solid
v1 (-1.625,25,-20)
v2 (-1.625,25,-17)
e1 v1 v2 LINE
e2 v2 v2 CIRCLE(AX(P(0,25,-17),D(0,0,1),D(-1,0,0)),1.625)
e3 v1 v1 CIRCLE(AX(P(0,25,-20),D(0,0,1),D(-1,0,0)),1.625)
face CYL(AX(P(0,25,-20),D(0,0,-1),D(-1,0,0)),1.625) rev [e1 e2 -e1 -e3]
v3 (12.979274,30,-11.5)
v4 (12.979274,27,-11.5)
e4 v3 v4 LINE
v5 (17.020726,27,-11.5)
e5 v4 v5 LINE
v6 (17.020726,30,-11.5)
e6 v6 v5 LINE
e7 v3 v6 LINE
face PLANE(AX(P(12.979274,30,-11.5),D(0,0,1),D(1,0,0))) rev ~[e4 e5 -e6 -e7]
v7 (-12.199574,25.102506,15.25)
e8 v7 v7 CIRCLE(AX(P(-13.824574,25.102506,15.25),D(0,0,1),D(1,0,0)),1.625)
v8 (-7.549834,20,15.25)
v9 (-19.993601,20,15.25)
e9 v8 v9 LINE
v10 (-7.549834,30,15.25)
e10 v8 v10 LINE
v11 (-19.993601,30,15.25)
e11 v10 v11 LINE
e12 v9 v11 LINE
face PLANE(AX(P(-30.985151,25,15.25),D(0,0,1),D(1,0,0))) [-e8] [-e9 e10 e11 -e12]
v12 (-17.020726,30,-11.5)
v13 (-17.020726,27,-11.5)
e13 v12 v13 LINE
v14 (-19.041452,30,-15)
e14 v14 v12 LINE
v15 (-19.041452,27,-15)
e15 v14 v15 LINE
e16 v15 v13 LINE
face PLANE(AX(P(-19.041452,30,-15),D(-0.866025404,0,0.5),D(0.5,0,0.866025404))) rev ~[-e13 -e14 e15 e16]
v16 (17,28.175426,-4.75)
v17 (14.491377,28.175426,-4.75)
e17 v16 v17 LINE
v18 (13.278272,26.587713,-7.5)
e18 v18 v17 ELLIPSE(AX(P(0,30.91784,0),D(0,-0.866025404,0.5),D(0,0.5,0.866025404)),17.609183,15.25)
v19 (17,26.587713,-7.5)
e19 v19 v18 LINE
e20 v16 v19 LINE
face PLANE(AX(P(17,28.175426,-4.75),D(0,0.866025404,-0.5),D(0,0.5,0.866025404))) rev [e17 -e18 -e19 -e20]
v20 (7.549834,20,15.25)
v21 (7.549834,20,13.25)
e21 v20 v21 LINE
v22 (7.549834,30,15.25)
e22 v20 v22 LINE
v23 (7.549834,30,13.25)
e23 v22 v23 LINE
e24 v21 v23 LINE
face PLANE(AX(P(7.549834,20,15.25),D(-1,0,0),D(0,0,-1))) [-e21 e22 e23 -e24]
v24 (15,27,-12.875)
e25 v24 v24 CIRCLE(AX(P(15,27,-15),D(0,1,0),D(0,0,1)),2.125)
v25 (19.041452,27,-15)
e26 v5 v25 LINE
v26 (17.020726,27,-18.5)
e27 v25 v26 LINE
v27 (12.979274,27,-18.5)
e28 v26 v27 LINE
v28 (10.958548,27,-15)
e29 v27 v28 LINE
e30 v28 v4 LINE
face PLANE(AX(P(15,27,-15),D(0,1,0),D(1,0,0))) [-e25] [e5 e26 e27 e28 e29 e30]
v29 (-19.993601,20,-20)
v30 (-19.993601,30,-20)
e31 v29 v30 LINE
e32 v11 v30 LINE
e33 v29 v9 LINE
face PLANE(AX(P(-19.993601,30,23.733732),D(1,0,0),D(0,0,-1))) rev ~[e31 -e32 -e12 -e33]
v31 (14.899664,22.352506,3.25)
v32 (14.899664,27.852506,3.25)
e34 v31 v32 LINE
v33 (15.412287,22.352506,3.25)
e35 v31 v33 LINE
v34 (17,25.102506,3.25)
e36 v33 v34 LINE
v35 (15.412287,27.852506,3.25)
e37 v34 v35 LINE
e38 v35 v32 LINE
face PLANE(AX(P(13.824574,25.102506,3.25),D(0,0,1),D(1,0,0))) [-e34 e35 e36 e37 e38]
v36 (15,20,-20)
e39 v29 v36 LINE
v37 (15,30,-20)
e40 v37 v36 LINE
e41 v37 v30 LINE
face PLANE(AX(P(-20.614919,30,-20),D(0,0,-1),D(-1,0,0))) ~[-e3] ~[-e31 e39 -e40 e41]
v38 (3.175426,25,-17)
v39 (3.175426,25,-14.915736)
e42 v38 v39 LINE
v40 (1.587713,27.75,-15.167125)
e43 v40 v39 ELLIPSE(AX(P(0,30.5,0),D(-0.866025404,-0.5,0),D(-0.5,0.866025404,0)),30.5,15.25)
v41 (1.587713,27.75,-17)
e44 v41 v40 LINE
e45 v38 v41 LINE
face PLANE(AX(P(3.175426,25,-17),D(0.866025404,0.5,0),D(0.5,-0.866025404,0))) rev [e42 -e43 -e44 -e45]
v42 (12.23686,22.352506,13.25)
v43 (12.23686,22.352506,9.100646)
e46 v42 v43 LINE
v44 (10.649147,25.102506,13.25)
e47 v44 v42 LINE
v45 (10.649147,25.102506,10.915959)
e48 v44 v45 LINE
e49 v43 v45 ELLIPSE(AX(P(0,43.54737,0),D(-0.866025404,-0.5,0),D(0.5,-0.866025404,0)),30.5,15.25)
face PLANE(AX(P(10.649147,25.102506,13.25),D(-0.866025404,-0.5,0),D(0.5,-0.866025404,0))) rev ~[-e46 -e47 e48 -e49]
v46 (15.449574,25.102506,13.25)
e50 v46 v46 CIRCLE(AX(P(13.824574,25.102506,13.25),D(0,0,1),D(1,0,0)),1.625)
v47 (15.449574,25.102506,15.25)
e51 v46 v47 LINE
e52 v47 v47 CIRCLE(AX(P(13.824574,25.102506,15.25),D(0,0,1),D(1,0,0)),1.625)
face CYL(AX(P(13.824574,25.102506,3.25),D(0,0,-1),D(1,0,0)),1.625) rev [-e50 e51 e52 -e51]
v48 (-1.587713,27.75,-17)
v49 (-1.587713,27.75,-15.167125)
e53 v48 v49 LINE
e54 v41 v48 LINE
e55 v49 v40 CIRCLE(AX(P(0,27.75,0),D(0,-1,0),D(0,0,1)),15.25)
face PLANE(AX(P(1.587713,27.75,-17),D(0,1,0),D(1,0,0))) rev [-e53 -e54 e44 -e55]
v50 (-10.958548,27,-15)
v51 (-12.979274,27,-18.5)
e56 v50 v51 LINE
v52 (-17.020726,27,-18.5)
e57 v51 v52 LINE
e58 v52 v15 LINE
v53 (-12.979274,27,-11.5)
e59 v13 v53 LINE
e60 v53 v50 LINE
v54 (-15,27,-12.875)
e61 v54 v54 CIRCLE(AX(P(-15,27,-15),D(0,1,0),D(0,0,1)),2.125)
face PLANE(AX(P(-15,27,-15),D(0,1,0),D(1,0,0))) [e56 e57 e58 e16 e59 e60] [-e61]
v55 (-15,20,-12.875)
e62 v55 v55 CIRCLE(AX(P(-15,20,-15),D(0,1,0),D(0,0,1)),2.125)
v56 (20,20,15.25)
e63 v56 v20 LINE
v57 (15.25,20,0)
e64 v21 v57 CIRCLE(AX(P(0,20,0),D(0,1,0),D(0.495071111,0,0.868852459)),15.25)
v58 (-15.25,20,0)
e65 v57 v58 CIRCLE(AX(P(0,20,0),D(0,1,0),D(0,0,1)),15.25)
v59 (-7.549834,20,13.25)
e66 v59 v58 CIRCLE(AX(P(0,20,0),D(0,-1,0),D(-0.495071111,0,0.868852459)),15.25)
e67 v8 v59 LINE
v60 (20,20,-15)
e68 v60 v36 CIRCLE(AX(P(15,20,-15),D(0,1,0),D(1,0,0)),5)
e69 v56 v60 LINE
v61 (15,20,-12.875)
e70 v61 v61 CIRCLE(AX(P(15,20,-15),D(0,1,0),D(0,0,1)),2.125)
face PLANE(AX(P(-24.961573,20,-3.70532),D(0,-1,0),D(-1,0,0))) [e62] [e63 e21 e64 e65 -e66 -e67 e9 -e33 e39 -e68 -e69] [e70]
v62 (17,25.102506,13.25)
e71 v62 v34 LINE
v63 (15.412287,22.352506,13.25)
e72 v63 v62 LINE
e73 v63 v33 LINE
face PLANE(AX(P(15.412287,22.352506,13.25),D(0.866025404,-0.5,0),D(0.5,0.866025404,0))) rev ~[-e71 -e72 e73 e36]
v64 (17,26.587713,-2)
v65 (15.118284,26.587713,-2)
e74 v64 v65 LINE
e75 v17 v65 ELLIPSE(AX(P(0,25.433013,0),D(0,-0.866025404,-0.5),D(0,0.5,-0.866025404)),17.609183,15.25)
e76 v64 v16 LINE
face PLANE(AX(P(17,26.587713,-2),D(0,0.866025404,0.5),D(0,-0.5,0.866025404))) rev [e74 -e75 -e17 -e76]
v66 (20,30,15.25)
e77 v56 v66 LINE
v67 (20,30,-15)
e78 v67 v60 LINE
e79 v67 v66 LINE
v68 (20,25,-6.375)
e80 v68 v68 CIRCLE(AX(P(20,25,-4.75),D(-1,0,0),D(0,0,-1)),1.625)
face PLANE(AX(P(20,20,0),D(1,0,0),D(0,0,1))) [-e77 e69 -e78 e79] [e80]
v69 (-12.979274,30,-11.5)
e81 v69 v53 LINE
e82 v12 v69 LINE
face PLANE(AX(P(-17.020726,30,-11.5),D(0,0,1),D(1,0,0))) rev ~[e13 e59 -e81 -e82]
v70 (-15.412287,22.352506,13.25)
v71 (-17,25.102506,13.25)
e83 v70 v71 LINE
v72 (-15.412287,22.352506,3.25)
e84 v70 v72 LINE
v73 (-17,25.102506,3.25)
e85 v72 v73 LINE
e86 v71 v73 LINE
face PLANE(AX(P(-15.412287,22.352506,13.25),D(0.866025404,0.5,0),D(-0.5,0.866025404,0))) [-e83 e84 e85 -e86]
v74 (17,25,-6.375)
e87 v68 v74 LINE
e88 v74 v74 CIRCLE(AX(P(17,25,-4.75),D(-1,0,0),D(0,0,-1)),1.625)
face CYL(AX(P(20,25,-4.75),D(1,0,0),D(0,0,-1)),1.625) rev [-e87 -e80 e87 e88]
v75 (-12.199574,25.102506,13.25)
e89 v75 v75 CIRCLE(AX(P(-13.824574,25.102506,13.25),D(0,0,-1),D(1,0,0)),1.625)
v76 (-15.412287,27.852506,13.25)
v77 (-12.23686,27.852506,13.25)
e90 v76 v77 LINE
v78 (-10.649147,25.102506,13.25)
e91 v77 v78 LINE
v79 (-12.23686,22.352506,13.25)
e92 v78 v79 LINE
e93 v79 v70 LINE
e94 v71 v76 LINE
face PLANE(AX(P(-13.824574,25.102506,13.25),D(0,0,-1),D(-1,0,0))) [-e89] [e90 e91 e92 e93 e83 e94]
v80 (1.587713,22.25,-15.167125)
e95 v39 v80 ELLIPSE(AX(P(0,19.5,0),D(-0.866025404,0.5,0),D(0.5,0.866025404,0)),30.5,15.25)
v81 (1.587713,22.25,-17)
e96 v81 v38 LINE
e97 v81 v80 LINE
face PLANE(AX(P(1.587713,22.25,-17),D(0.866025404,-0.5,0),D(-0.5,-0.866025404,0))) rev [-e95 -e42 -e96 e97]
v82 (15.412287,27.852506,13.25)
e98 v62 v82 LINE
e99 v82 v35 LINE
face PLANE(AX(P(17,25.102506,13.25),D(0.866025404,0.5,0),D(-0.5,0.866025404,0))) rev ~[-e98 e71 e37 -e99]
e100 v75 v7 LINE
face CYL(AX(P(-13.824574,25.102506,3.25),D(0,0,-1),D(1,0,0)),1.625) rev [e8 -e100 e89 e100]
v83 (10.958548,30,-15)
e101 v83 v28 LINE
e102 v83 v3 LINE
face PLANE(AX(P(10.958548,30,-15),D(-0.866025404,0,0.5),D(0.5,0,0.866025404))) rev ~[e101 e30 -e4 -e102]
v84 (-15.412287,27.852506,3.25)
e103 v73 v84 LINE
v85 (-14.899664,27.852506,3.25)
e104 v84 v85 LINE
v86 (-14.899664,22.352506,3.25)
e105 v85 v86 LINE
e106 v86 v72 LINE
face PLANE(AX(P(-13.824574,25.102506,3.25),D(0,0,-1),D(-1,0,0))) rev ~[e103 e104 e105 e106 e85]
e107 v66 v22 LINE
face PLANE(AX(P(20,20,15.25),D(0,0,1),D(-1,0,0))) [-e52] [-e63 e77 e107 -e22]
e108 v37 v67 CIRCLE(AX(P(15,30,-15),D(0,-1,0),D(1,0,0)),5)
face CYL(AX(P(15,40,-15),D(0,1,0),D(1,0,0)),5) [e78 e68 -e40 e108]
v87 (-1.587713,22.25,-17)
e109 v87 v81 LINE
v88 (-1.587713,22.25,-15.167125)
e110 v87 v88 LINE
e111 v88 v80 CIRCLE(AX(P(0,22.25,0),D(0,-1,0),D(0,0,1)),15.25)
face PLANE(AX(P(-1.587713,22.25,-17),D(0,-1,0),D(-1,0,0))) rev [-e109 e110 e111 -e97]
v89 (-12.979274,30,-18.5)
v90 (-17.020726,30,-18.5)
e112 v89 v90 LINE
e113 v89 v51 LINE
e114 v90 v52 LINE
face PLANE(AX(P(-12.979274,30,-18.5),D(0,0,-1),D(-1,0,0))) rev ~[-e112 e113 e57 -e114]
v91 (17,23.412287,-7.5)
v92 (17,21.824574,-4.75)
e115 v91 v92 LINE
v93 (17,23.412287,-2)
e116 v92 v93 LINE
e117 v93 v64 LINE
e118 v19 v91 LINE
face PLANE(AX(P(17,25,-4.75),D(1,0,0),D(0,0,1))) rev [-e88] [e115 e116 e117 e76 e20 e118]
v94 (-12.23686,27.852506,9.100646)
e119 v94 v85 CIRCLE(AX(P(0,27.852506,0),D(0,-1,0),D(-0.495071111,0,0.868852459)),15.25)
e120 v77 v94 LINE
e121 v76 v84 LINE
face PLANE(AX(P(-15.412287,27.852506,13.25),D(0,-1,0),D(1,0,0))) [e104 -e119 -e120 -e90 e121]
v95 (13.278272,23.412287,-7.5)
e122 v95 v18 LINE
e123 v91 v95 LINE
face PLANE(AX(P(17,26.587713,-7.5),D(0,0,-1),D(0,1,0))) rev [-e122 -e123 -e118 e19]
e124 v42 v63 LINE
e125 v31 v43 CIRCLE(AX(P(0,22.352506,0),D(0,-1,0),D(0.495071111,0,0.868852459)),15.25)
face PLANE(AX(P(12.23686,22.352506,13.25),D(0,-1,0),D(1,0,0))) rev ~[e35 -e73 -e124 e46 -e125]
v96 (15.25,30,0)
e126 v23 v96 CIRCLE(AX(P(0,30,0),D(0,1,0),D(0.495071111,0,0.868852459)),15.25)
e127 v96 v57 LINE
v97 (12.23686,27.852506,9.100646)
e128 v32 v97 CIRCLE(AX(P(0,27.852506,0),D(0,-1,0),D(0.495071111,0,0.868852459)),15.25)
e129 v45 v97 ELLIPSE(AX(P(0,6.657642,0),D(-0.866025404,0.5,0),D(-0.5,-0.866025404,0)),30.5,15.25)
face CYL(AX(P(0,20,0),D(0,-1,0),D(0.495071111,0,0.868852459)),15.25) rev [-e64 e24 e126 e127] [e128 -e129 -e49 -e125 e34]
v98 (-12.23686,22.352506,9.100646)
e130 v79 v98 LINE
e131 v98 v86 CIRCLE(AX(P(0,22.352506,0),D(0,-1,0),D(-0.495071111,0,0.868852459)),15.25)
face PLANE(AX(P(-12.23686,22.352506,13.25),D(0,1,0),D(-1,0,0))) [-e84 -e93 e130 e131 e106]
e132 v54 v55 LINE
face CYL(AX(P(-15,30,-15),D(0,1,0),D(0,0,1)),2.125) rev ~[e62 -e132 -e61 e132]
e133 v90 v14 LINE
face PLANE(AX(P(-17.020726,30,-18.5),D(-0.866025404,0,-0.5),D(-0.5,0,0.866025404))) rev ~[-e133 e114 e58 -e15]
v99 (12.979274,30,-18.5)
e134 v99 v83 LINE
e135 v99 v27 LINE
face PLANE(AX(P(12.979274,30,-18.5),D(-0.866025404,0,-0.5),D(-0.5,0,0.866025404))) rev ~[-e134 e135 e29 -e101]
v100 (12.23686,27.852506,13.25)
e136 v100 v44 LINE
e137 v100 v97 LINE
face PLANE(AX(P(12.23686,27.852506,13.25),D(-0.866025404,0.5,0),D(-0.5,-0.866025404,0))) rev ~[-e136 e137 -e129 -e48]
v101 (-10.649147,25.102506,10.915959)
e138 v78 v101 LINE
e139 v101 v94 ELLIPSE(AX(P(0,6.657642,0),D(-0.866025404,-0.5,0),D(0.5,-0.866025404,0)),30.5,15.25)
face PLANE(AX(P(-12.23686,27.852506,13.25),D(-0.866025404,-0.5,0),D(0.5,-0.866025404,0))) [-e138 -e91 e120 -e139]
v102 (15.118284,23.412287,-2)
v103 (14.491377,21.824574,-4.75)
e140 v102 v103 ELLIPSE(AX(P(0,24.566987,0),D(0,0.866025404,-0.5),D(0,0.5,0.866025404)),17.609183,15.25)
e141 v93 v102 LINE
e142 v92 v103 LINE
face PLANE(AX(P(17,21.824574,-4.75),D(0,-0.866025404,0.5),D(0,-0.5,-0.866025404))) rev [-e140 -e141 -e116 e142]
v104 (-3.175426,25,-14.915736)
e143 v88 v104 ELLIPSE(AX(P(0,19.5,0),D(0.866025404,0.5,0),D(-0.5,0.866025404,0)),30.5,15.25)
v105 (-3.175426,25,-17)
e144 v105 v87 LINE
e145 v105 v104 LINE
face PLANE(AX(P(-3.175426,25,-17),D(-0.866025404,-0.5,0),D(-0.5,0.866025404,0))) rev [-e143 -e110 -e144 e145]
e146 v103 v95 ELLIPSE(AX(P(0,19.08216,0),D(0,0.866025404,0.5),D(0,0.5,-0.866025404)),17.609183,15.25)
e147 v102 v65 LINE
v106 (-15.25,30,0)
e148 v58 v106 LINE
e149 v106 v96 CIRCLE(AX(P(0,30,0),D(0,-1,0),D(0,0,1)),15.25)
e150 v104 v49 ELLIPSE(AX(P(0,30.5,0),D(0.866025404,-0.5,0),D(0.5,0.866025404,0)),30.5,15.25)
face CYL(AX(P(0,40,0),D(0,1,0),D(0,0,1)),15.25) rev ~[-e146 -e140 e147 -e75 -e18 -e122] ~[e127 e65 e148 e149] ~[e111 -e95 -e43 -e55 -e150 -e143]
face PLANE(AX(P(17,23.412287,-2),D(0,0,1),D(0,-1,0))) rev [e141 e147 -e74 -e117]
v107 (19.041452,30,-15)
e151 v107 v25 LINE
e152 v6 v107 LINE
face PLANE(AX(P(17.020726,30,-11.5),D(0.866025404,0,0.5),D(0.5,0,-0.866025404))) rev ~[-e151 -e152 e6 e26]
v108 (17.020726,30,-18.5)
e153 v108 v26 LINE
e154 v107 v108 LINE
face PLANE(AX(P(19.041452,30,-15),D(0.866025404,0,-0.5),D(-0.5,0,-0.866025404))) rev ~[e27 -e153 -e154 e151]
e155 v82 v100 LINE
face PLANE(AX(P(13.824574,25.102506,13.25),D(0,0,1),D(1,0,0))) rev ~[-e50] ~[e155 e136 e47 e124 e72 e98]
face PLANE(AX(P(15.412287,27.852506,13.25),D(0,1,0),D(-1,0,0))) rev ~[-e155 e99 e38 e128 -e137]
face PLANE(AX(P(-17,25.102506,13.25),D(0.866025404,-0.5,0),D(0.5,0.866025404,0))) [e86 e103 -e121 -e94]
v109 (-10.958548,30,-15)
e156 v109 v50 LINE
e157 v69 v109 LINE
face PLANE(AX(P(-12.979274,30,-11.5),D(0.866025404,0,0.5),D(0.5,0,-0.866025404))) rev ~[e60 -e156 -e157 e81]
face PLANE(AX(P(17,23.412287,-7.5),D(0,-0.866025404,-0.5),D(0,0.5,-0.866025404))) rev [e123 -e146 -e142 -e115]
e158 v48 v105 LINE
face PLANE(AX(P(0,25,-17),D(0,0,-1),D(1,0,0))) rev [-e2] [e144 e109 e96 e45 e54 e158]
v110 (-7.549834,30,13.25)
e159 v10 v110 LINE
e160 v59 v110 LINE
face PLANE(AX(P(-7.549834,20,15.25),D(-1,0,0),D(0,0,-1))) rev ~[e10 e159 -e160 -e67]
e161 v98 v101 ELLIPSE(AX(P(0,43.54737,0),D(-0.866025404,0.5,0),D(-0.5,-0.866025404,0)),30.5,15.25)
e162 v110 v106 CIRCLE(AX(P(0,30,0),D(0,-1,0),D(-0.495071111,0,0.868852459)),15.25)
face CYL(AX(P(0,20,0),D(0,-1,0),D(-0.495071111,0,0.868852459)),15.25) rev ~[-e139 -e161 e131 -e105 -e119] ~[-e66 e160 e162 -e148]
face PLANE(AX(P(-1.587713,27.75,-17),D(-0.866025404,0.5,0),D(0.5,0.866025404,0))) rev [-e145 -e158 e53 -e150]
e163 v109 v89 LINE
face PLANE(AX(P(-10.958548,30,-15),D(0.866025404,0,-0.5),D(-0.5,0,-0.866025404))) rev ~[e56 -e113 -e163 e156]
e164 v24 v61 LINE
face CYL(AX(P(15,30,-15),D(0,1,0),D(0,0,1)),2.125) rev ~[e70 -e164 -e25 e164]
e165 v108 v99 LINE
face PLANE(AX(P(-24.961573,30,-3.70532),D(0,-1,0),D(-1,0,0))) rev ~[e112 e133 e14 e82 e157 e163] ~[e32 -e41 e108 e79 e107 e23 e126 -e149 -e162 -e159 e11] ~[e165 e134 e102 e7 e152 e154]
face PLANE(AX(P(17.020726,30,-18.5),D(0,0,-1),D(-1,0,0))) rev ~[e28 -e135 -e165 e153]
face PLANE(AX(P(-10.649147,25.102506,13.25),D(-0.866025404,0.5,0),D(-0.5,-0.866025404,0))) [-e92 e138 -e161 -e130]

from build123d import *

# Parameters (mm, degrees)
CROQUIS1_R                              = 15.25
CROQUIS1_R_2                            = 2.125
SOPORTE_CAJA_REDUCTORA_DEPTH            = 20
CROQUIS3_R                              = 2.125
CORTAR_EXTRUIR1_DEPTH                   = 51.423828692
REDONDEO1_R                             = 5
BOSS_EXTRUDE1_DEPTH                     = 20
CUT_EXTRUDE1_REACH                      = 55.852
SKETCH2_R                               = 1.625
CUT_EXTRUDE2_DEPTH                      = 2
SKETCH4_R                               = 1.625
CUT_EXTRUDE3_DEPTH                      = 63.291652731
CUT_EXTRUDE4_START                      = -4.5
CUT_EXTRUDE4_DEPTH                      = 2
CROQUIS6_W                              = 4.75
CROQUIS6_H                              = 4.75
CORTAR_EXTRUIR17_DEPTH                  = 42.231056256
CROQUIS7_W                              = 60
CROQUIS7_H                              = 20
CORTAR_EXTRUIR18_DEPTH                  = 51.423828692
SALIENTE_EXTRUIR2_DEPTH                 = 49
SOPORTE_START                           = -15
SOPORTE_MOTOR_DEPTH                     = 15
CROQUIS12_R                             = 2.125
AGUJEROS_DE_SUJECION_A_BASE_DEPTH       = 84.087679592
TUERCA_START                            = -4
TUERCA_AGUJERO_DE_SUJECION_A_BASE_DEPTH = 10
SALIENTE_EXTRUIR4_DEPTH                 = 15
CORTAR_EXTRUIR19_DEPTH                  = 25
CROQUIS14_W                             = 50
CROQUIS14_H                             = 118
CORTAR_EXTRUIR22_DEPTH                  = 146.556045907
CROQUIS15_W                             = 10
CROQUIS15_H                             = 7
CORTAR_EXTRUIR23_DEPTH                  = 42.231056256
CORTAR_EXTRUIR24_DEPTH                  = 42.231056256
CROQUIS18_W                             = 40
CROQUIS18_H                             = 10
CORTAR_EXTRUIR25_DEPTH                  = 44.27311521
SALIENTE_EXTRUIR5_DEPTH                 = 10
CROQUIS20_R                             = 1
CORTAR_EXTRUIR26_DEPTH                  = 49.229270158
CORTAR_EXTRUIR27_REACH                  = 62.959
CORTAR_EXTRUIR27_END_RADIUS             = 15.25
CROQUIS21_R                             = 1.625
CROQUIS22_R                             = 2.125
CROQUIS22_R_2                           = 1
SALIENTE_EXTRUIR6_DEPTH                 = 10
CROQUIS23_R                             = 1.625
CORTAR_EXTRUIR28_DEPTH                  = 52.269508521
CORTAR_EXTRUIR29_START                  = -3
CORTAR_EXTRUIR29_DEPTH                  = 10
SALIENTE_EXTRUIR7_DEPTH                 = 10
CORTAR_EXTRUIR30_REACH                  = 72.235
CROQUIS27_R                             = 1.625
CORTAR_EXTRUIR31_REACH                  = 75.235
CORTAR_EXTRUIR31_START                  = -3
CORTAR_EXTRUIR32_REACH                  = 58.612
CROQUIS29_R                             = 1.625
CORTAR_EXTRUIR33_REACH                  = 61.112
CORTAR_EXTRUIR33_START                  = -2.5
CROQUIS35_W                             = 13.305418987
CROQUIS35_H                             = 6.826864192
CORTAR_EXTRUIR34_DEPTH                  = 63.931555098
CORTAR_EXTRUIR34_DEPTH_BACK             = 63.931555098
CORTAR_EXTRUIR35_START                  = -3
CORTAR_EXTRUIR35_DEPTH                  = 10
SALIENTE_EXTRUIR8_DEPTH                 = 10
SALIENTE_EXTRUIR9_DEPTH                 = 13
SALIENTE_EXTRUIR10_DEPTH                = 3
CROQUIS40_W                             = 106.583537839
CROQUIS40_H                             = 47.391515964
CORTAR_EXTRUIR36_DEPTH                  = 80.887064817
CORTAR_EXTRUIR36_DEPTH_BACK             = 80.887064817
CORTAR_EXTRUIR37_DEPTH                  = 67.2524009
CORTAR_EXTRUIR37_DEPTH_BACK             = 67.2524009
CORTAR_EXTRUIR38_DEPTH                  = 79.704784639
CORTAR_EXTRUIR38_DEPTH_BACK             = 79.704784639
SALIENTE_EXTRUIR11_DEPTH                = 10
CORTAR_EXTRUIR39_DEPTH                  = 63.9908649
CROQUIS45_W                             = 31.470301378
CROQUIS45_H                             = 10
CROQUIS45_R                             = 1.625
SALIENTE_EXTRUIR12_DEPTH                = 2.5
SALIENTE_EXTRUIR13_DEPTH                = 10
CORTAR_EXTRUIR40_START                  = -2
CROQUIS47_R                             = 1.625
CORTAR_EXTRUIR40_DEPTH                  = 10
CORTAR_EXTRUIR41_START                  = -12
CROQUIS48_R                             = 1.625
CORTAR_EXTRUIR41_DEPTH                  = 12
CORTAR_EXTRUIR42_DEPTH                  = 3
CROQUIS50_R                             = 2.125
CORTAR_EXTRUIR43_DEPTH                  = 52.795622989
CORTAR_EXTRUIR43_DEPTH_BACK             = 52.795622989
CORTAR_EXTRUIR44_DEPTH                  = 52.795622989
CORTAR_EXTRUIR44_DEPTH_BACK             = 52.795622989
SALIENTE_EXTRUIR14_DEPTH                = 10
CORTAR_EXTRUIR45_START                  = -24.591895
CORTAR_EXTRUIR45_DEPTH                  = 17.091895
CROQUIS55_W                             = 28.124395824
CROQUIS55_H                             = 43.73373215
CORTAR_EXTRUIR46_DEPTH                  = 42.681058385
CORTAR_EXTRUIR46_DEPTH_BACK             = 42.681058385


with BuildPart() as part:
    # Croquis1 → Soporte caja reductora (new body)
    with BuildSketch(Plane(origin=(0, 0, 0), x_dir=(1, 0, 0), z_dir=(0, 1, 0))):
        Polygon((-30, -15.25), (-20, -15.25), (-20, -20), (20, -20), (20, -15.25), (30, -15.25), (30, -7.25), (20, -4.25), (20, 20), (-20, 20), (-20, -4.25), (-30, -7.25), align=None)
        with Locations(Location((0, 0, 0), (0, 0, 270))):
            Circle(CROQUIS1_R, mode=Mode.SUBTRACT)
        with Locations(Location((-15, 15, 0), (0, 0, 270))):
            Circle(CROQUIS1_R_2, mode=Mode.SUBTRACT)
        with Locations(Location((15, 15, 0), (0, 0, 270))):
            Circle(CROQUIS1_R_2, mode=Mode.SUBTRACT)
    extrude(amount=-SOPORTE_CAJA_REDUCTORA_DEPTH)

    # Croquis3 → Cortar-Extruir1 (cut, through all)
    with BuildSketch(Plane.XY.offset(15.25)):
        with Locations((-23.5, -10)):
            Circle(CROQUIS3_R)
        with Locations((23.5, -10)):
            Circle(CROQUIS3_R)
    extrude(amount=-CORTAR_EXTRUIR1_DEPTH, mode=Mode.SUBTRACT)

    # Redondeo1
    redondeo1_edges = [part.edges().sort_by_distance(p)[0] for p in [
        (-20, -10, -20),
        (20, -10, -20),
    ]]
    fillet(redondeo1_edges, radius=REDONDEO1_R)

    # Sketch1 → Boss-Extrude1 (add)
    with BuildSketch(Plane(origin=(0, 0, 0), x_dir=(1, 0, 0), z_dir=(0, 1, 0))):
        with BuildLine():
            Line((25.5, 15), (20, 15))
            ThreePointArc((20, 15), (18.535533906, 18.535533906), (15, 20))
            Line((15, 20), (30, 20))
            Line((30, 20), (30, 8))
            Line((30, 8), (25.5, 8))
            Line((25.5, 8), (25.5, 15))
        make_face()
    extrude(amount=-BOSS_EXTRUDE1_DEPTH)

    # Sketch2 → Cut-Extrude1 (cut, up to next)
    with BuildSketch(Plane(origin=(0, 0, -20), x_dir=(-1, 0, 0), z_dir=(0, 0, -1)), mode=Mode.PRIVATE) as cut_extrude1_sk1:
        with Locations((-22.75, -10)):
            Circle(SKETCH2_R)
    cut_extrude1_tool1 = extrude(cut_extrude1_sk1.sketch, amount=-CUT_EXTRUDE1_REACH, mode=Mode.PRIVATE) & part.part
    add(cut_extrude1_tool1.solids().sort_by_distance((22.75, -10, -20))[0], mode=Mode.SUBTRACT)

    # Sketch3 → Cut-Extrude2 (cut)
    with BuildSketch(Plane.XY.offset(-15)):
        Polygon((20, -11.58771324), (22.75, -13.175426481), (25.5, -11.58771324), (25.5, -8.41228676), (22.75, -6.824573519), (20, -8.41228676), align=None)
    extrude(amount=-CUT_EXTRUDE2_DEPTH, mode=Mode.SUBTRACT)

    # Sketch4 → Cut-Extrude3 (cut, through all)
    with BuildSketch(Plane.ZY.offset(-25.5)):
        with Locations((-12.25, -10)):
            Circle(SKETCH4_R)
    extrude(amount=-CUT_EXTRUDE3_DEPTH, mode=Mode.SUBTRACT)

    # Sketch5 → Cut-Extrude4 (cut)
    with BuildSketch(Plane(origin=(30, 0, 0), x_dir=(0, 0, -1), z_dir=(1, 0, 0)).offset(CUT_EXTRUDE4_START)):
        Polygon((15, -11.58771324), (15, -8.41228676), (12.25, -6.824573519), (9.5, -8.41228676), (9.5, -11.58771324), (12.25, -13.175426481), align=None)
    extrude(amount=CUT_EXTRUDE4_DEPTH, mode=Mode.SUBTRACT)

    # Croquis6 → Cortar-Extruir17 (cut, through all)
    with BuildSketch(Plane(origin=(0, 0, 0), x_dir=(1, 0, 0), z_dir=(0, 1, 0))):
        Polygon((0, -15.25), (-15.25, -15.25), (-15.25, -20), (15.25, -20), (15.25, -15.25), align=None)
        with Locations((-17.625, -17.625)):
            Rectangle(CROQUIS6_W, CROQUIS6_H)
        with BuildLine():
            ThreePointArc((0, -15.25), (-10.783378413, -10.783378413), (-15.25, 0))
            Line((-15.25, 0), (-15.25, -15.25))
            Line((-15.25, -15.25), (0, -15.25))
        make_face()
        with BuildLine():
            Line((15.25, -15.25), (15.25, 0))
            ThreePointArc((15.25, 0), (10.783378413, -10.783378413), (0, -15.25))
            Line((0, -15.25), (15.25, -15.25))
        make_face()
        with Locations((17.625, -17.625)):
            Rectangle(CROQUIS6_W, CROQUIS6_H)
    extrude(amount=-CORTAR_EXTRUIR17_DEPTH, mode=Mode.SUBTRACT)


with BuildPart() as body_2:
    # Simetría1: mirrored copy
    add(part.part.mirror(Plane.ZX))

    # Croquis8 → Saliente-Extruir2 (add)
    with BuildSketch(Plane(origin=(0, 20, 0), x_dir=(1, 0, 0), z_dir=(0, 1, 0))):
        with BuildLine():
            Line((-12.664515522, 20), (-11.040489496, 13.939052358))
            Line((-11.040489496, 13.939052358), (-10.315162126, 11.232093763))
            ThreePointArc((-10.315162126, 11.232093763), (0, 15.25), (10.315162126, 11.232093763))
            Line((10.315162126, 11.232093763), (10.817418481, 13.87928066))
            Line((10.817418481, 13.87928066), (11.978715476, 20))
            Line((11.978715476, 20), (-12.664515522, 20))
        make_face()
    extrude(amount=SALIENTE_EXTRUIR2_DEPTH)

    # Croquis9 → Soporte motor (add)
    with BuildSketch(Plane(origin=(0, 69, 0), x_dir=(1, 0, 0), z_dir=(0, 1, 0)).offset(SOPORTE_START)):
        with BuildLine():
            Line((-20, 15), (-20, -4.25))
            Line((-20, -4.25), (-30, -7.25))
            Line((-30, -7.25), (-30, -15.25))
            Line((-30, -15.25), (0, -15.25))
            Line((0, -15.25), (0, -14.75))
            ThreePointArc((0, -14.75), (-10.429825023, 10.429825023), (14.75, 0))
            Line((14.75, 0), (20, 0))
            Line((20, 0), (20, 13.936837101))
            Line((20, 13.936837101), (12.664515522, 20))
            Line((12.664515522, 20), (-15, 20))
            ThreePointArc((-15, 20), (-18.535533906, 18.535533906), (-20, 15))
        make_face()
    extrude(amount=-SOPORTE_MOTOR_DEPTH)

    # Croquis12 → Agujeros de sujecion a base (cut, through all)
    with BuildSketch(Plane.XY.offset(15.25)):
        with Locations((-23.5, 46.5)):
            Circle(CROQUIS12_R)
    extrude(amount=-AGUJEROS_DE_SUJECION_A_BASE_DEPTH, mode=Mode.SUBTRACT)

    # Croquis13 → Tuerca Agujero de sujecion a base (cut)
    with BuildSketch(Plane.XY.offset(15.25).offset(TUERCA_START)):
        Polygon((-20, 44.479274058), (-20, 48.520725942), (-23.5, 50.541451884), (-27, 48.520725942), (-27, 44.479274058), (-23.5, 42.458548116), align=None)
    extrude(amount=-TUERCA_AGUJERO_DE_SUJECION_A_BASE_DEPTH, mode=Mode.SUBTRACT)

    # Croquis10 → Saliente-Extruir4 (add)
    with BuildSketch(Plane(origin=(0, 69, 0), x_dir=(1, 0, 0), z_dir=(0, 1, 0))):
        with BuildLine():
            ThreePointArc((10.315162126, 11.232093763), (0, 15.25), (-10.315162126, 11.232093763))
            Line((-10.315162126, 11.232093763), (-10.16850369, 10.684757026))
            ThreePointArc((-10.16850369, 10.684757026), (0, 14.75), (10.16850369, 10.684757026))
            Line((10.16850369, 10.684757026), (10.315162126, 11.232093763))
        make_face()
    extrude(amount=-SALIENTE_EXTRUIR4_DEPTH)

    # Croquis11 → Cortar-Extruir19 (cut)
    with BuildSketch(Plane.XZ):
        with BuildLine():
            Line((15.25, 4.25), (20, 4.25))
            Line((20, 4.25), (21.972856468, 4.84185694))
            ThreePointArc((21.972856468, 4.84185694), (19.948931102, 10.40625523), (16.543503257, 15.25))
            Line((16.543503257, 15.25), (15.25, 15.25))
            Line((15.25, 15.25), (15.25, 4.25))
        make_face()
        with BuildLine():
            Line((21.972856468, 4.84185694), (30, 7.25))
            Line((30, 7.25), (30, 15.25))
            Line((30, 15.25), (16.543503257, 15.25))
            ThreePointArc((16.543503257, 15.25), (19.948931102, 10.40625523), (21.972856468, 4.84185694))
        make_face()
        with BuildLine():
            ThreePointArc((20, -15), (18.535533906, -18.535533906), (15, -20))
            Line((15, -20), (30, -20))
            Line((30, -20), (30, -8))
            Line((30, -8), (25.5, -8))
            Line((25.5, -8), (25.5, -15))
            Line((25.5, -15), (20, -15))
        make_face()
    extrude(amount=-CORTAR_EXTRUIR19_DEPTH, mode=Mode.SUBTRACT)

    # Simetría2: body 2 across face


with BuildPart() as part_1:
    add(part.part)

    # Croquis7 → Cortar-Extruir18 (cut, through all)
    with BuildSketch(Plane(origin=(0, 0, -20), x_dir=(-1, 0, 0), z_dir=(0, 0, -1))):
        with Locations((0, -10)):
            Rectangle(CROQUIS7_W, CROQUIS7_H)
    extrude(amount=-CORTAR_EXTRUIR18_DEPTH, mode=Mode.SUBTRACT)


with BuildPart() as body_2_1:
    add(body_2.part)
    add(body_2.part.mirror(Plane(origin=(-0.229209569, 69, -16.663998028), x_dir=(0, 0, 1), z_dir=(0, 1, 0))))

    # Croquis14 → Cortar-Extruir22 (cut, through all)
    with BuildSketch(Plane.XY.offset(15.25)):
        with Locations((-5, 79)):
            Rectangle(CROQUIS14_W, CROQUIS14_H)
    extrude(amount=-CORTAR_EXTRUIR22_DEPTH, mode=Mode.SUBTRACT)

    # Croquis15 → Cortar-Extruir23 (cut, through all)
    with BuildSketch(Plane.XZ):
        with Locations((-25, 7.75)):
            Rectangle(CROQUIS15_W, CROQUIS15_H)
    extrude(amount=-CORTAR_EXTRUIR23_DEPTH, mode=Mode.SUBTRACT)

    # Croquis16 → Cortar-Extruir24 (cut, through all)
    with BuildSketch(Plane.XZ):
        Polygon((-30, 15.25), (-15.25, 15.25), (-15.25, 12.75), (-20, 12.75), (-20, 11.25), (-30, 11.25), (-30, 12.75), align=None)
    extrude(amount=-CORTAR_EXTRUIR24_DEPTH, mode=Mode.SUBTRACT)

    # Croquis18 → Cortar-Extruir25 (cut, through all)
    with BuildSketch(Plane(origin=(0, 0, -20), x_dir=(-1, 0, 0), z_dir=(0, 0, -1))):
        with Locations((0, 5)):
            Rectangle(CROQUIS18_W, CROQUIS18_H)
    extrude(amount=-CORTAR_EXTRUIR25_DEPTH, mode=Mode.SUBTRACT)

    # Croquis19 → Saliente-Extruir5 (add)
    with BuildSketch(Plane(origin=(0, 20, 0), x_dir=(1, 0, 0), z_dir=(0, 1, 0))):
        Polygon((-20, -12.75), (-34, -12.75), (-34, -7.75), (-24, -7.75), (-20, -3.75), align=None)
    extrude(amount=-SALIENTE_EXTRUIR5_DEPTH)

    # Croquis20 → Cortar-Extruir26 (cut, through all)
    with BuildSketch(Plane(origin=(0, 0, 7.75), x_dir=(-1, 0, 0), z_dir=(0, 0, -1))):
        with Locations((29, 15)):
            Circle(CROQUIS20_R)
    extrude(amount=-CORTAR_EXTRUIR26_DEPTH, mode=Mode.SUBTRACT)

    # Cortar-Extruir27: up to this cylinder (the profile starts outside it)
    cortar_extruir27_end = Plane(origin=(0, 15, 0), z_dir=(0, -1, 0)) * Cylinder(CORTAR_EXTRUIR27_END_RADIUS, 157.418, mode=Mode.PRIVATE)
    # Croquis21 → Cortar-Extruir27 (cut, up to the surface)
    with BuildSketch(Plane(origin=(20, 0, 0), x_dir=(0, 0, -1), z_dir=(1, 0, 0)), mode=Mode.PRIVATE) as cortar_extruir27_sk1:
        with Locations((4.75, 15)):
            Circle(CROQUIS21_R)
    cortar_extruir27_tool1 = extrude(cortar_extruir27_sk1.sketch, amount=-CORTAR_EXTRUIR27_REACH, mode=Mode.PRIVATE) - cortar_extruir27_end
    add(cortar_extruir27_tool1.solids().sort_by_distance((20, 15, -4.75))[0], mode=Mode.SUBTRACT)

    # Croquis22 → Saliente-Extruir6 (add)
    with BuildSketch(Plane.XZ.offset(-10)):
        with Locations((-15, -15)):
            Circle(CROQUIS22_R)
        with Locations(Location((-15, -15, 0), (0, 0, 270))):
            Circle(CROQUIS22_R_2, mode=Mode.SUBTRACT)
        with Locations((15, -15)):
            Circle(CROQUIS22_R)
        with Locations(Location((15, -15, 0), (0, 0, 270))):
            Circle(CROQUIS22_R_2, mode=Mode.SUBTRACT)
    extrude(amount=-SALIENTE_EXTRUIR6_DEPTH)

    # Croquis23 → Cortar-Extruir28 (cut, through all)
    with BuildSketch(Plane(origin=(0, 0, -20), x_dir=(-1, 0, 0), z_dir=(0, 0, -1))):
        with Locations((0, 15)):
            Circle(CROQUIS23_R)
    extrude(amount=-CORTAR_EXTRUIR28_DEPTH, mode=Mode.SUBTRACT)

    # Croquis24 → Cortar-Extruir29 (cut)
    with BuildSketch(Plane(origin=(0, 0, -20), x_dir=(-1, 0, 0), z_dir=(0, 0, -1)).offset(CORTAR_EXTRUIR29_START)):
        Polygon((1.58771324, 12.25), (3.175426481, 15), (1.58771324, 17.75), (-1.58771324, 17.75), (-3.175426481, 15), (-1.58771324, 12.25), align=None)
    extrude(amount=-CORTAR_EXTRUIR29_DEPTH, mode=Mode.SUBTRACT)

    # Croquis26 → Saliente-Extruir7 (add)
    with BuildSketch(Plane.XZ.offset(-10)):
        Polygon((-34, 7.75), (-34, 12.75), (-58.825, 12.75), (-39.160527763, -4.104491148), (-20, -4.104491148), (-20, -0.104491148), (-35.732113118, -0.104491148), (-29, 7.75), align=None)
        Polygon((-34.268209086, 7.75), (-39.594516123, 1.535690951), (-46.844874897, 7.75), align=None, mode=Mode.SUBTRACT)
    extrude(amount=-SALIENTE_EXTRUIR7_DEPTH)

    # Croquis27 → Cortar-Extruir30 (cut, up to next)
    with BuildSketch(Plane.XY.offset(12.75), mode=Mode.PRIVATE) as cortar_extruir30_sk1:
        with Locations((-40.544874897, 15)):
            Circle(CROQUIS27_R)
    cortar_extruir30_tool1 = extrude(cortar_extruir30_sk1.sketch, amount=-CORTAR_EXTRUIR30_REACH, mode=Mode.PRIVATE) & body_2_1.part
    # Croquis27 → Cortar-Extruir30 (cut, up to next)
    with BuildSketch(Plane.XY.offset(12.75), mode=Mode.PRIVATE) as cortar_extruir30_sk2:
        with Locations((-29, 15)):
            Circle(CROQUIS27_R)
    cortar_extruir30_tool2 = extrude(cortar_extruir30_sk2.sketch, amount=-CORTAR_EXTRUIR30_REACH, mode=Mode.PRIVATE) & body_2_1.part
    add(cortar_extruir30_tool1.solids().sort_by_distance((-40.544875, 15, 12.75))[0], mode=Mode.SUBTRACT)
    add(cortar_extruir30_tool2.solids().sort_by_distance((-29, 15, 12.75))[0], mode=Mode.SUBTRACT)

    # Croquis28 → Cortar-Extruir31 (cut, up to next)
    with BuildSketch(Plane.XY.offset(12.75).offset(CORTAR_EXTRUIR31_START), mode=Mode.PRIVATE) as cortar_extruir31_sk1:
        Polygon((-38.957161657, 12.25), (-37.369448416, 15), (-38.957161657, 17.75), (-42.132588137, 17.75), (-43.720301378, 15), (-42.132588137, 12.25), align=None)
    cortar_extruir31_tool1 = extrude(cortar_extruir31_sk1.sketch, amount=-CORTAR_EXTRUIR31_REACH, mode=Mode.PRIVATE) & body_2_1.part
    # Croquis28 → Cortar-Extruir31 (cut, up to next)
    with BuildSketch(Plane.XY.offset(12.75).offset(CORTAR_EXTRUIR31_START), mode=Mode.PRIVATE) as cortar_extruir31_sk2:
        Polygon((-27.41228676, 12.25), (-25.824573519, 15), (-27.41228676, 17.75), (-30.58771324, 17.75), (-32.175426481, 15), (-30.58771324, 12.25), align=None)
    cortar_extruir31_tool2 = extrude(cortar_extruir31_sk2.sketch, amount=-CORTAR_EXTRUIR31_REACH, mode=Mode.PRIVATE) & body_2_1.part
    add(cortar_extruir31_tool1.solids().sort_by_distance((-40.544875, 15, 9.75))[0], mode=Mode.SUBTRACT)
    add(cortar_extruir31_tool2.solids().sort_by_distance((-29, 15, 9.75))[0], mode=Mode.SUBTRACT)

    # Croquis29 → Cortar-Extruir32 (cut, up to next)
    with BuildSketch(Plane(origin=(-18.612848159, 0, -21.715982563), x_dir=(-0.7592713073348843, 0, 0.6507742172658468), z_dir=(-0.6507742172658468, 0, -0.7592713073348843)), mode=Mode.PRIVATE) as cortar_extruir32_sk1:
        with Locations((33.812368097, 15)):
            Circle(CROQUIS29_R)
    cortar_extruir32_tool1 = extrude(cortar_extruir32_sk1.sketch, amount=-CORTAR_EXTRUIR32_REACH, mode=Mode.PRIVATE) & body_2_1.part
    add(cortar_extruir32_tool1.solids().sort_by_distance((-44.285609, 15, 0.288235))[0], mode=Mode.SUBTRACT)

    # Croquis31 → Cortar-Extruir33 (cut, up to next)
    with BuildSketch(Plane(origin=(-18.612848159, 0, -21.715982563), x_dir=(-0.7592713073348843, 0, 0.6507742172658468), z_dir=(-0.6507742172658468, 0, -0.7592713073348843)).offset(CORTAR_EXTRUIR33_START), mode=Mode.PRIVATE) as cortar_extruir33_sk1:
        Polygon((36.562368097, 16.58771324), (33.812368097, 18.175426481), (31.062368097, 16.58771324), (31.062368097, 13.41228676), (33.812368097, 11.824573519), (36.562368097, 13.41228676), align=None)
    cortar_extruir33_tool1 = extrude(cortar_extruir33_sk1.sketch, amount=-CORTAR_EXTRUIR33_REACH, mode=Mode.PRIVATE) & body_2_1.part
    add(cortar_extruir33_tool1.solids().sort_by_distance((-42.658674, 15, 2.186413))[0], mode=Mode.SUBTRACT)

    # Croquis35 → Cortar-Extruir34 (cut, two sides)
    with BuildSketch(Plane(origin=(0, 20, 0), x_dir=(1, 0, 0), z_dir=(0, 1, 0))) as cortar_extruir34_sk:
        with Locations((17.04227466, -3.413432096)):
            Rectangle(CROQUIS35_W, CROQUIS35_H)
    extrude(amount=CORTAR_EXTRUIR34_DEPTH, mode=Mode.SUBTRACT)
    extrude(cortar_extruir34_sk.sketch, amount=-CORTAR_EXTRUIR34_DEPTH_BACK, mode=Mode.SUBTRACT)

    # Croquis36 → Cortar-Extruir35 (cut)
    with BuildSketch(Plane(origin=(20, 0, 0), x_dir=(0, 0, -1), z_dir=(1, 0, 0)).offset(CORTAR_EXTRUIR35_START)):
        Polygon((7.5, 16.58771324), (4.75, 18.175426481), (2, 16.58771324), (2, 13.41228676), (4.75, 11.824573519), (7.5, 13.41228676), align=None)
    extrude(amount=-CORTAR_EXTRUIR35_DEPTH, mode=Mode.SUBTRACT)

    # Croquis37 → Saliente-Extruir8 (add)
    with BuildSketch(Plane.XZ.offset(-10)):
        Polygon((-39.160527763, -4.104491148), (-20.614919368, -20), (-15, -20), (-19.558128305, -15.637570403), (-33.014002756, -4.104491148), align=None)
    extrude(amount=-SALIENTE_EXTRUIR8_DEPTH)

    # Croquis38 → Saliente-Extruir9 (add)
    with BuildSketch(Plane.XZ.offset(-10)):
        Polygon((-58.825, 12.75), (-38.825, 12.75), (-38.825, 9.75), (-55.324839942, 9.75), align=None)
    extrude(amount=SALIENTE_EXTRUIR9_DEPTH)

    # Croquis39 → Saliente-Extruir10 (add)
    with BuildSketch(Plane.XZ.offset(-10)):
        Polygon((-38.825, 9.75), (-38.825, 7.75), (-38.825, 5.75), (-50.657959865, 5.75), (-52.991399903, 7.75), (-55.324839942, 9.75), align=None)
    extrude(amount=SALIENTE_EXTRUIR10_DEPTH)

    # Simetría3: body 2 across face


with BuildPart() as body_2_2:
    add(body_2_1.part)
    add(body_2_1.part.mirror(Plane(origin=(-18.003999227, 20, -4.220503046), x_dir=(0, 0, 1), z_dir=(0, 1, 0))))

    # Croquis40 → Cortar-Extruir36 (cut, two sides)
    with BuildSketch(Plane(origin=(0, 0, -20), x_dir=(-1, 0, 0), z_dir=(0, 0, -1))) as cortar_extruir36_sk:
        with Locations((22.395502026, -3.695757982)):
            Rectangle(CROQUIS40_W, CROQUIS40_H)
    extrude(amount=CORTAR_EXTRUIR36_DEPTH, mode=Mode.SUBTRACT)
    extrude(cortar_extruir36_sk.sketch, amount=-CORTAR_EXTRUIR36_DEPTH_BACK, mode=Mode.SUBTRACT)

    # Croquis41 → Cortar-Extruir37 (cut, two sides)
    with BuildSketch(Plane.XZ.offset(-20)) as cortar_extruir37_sk:
        Polygon((-19.992980133, -22.302484261), (-20, 3.75), (-24, 7.75), (-56.035110209, 7.75), align=None)
    extrude(amount=CORTAR_EXTRUIR37_DEPTH, mode=Mode.SUBTRACT)
    extrude(cortar_extruir37_sk.sketch, amount=-CORTAR_EXTRUIR37_DEPTH_BACK, mode=Mode.SUBTRACT)

    # Croquis42 → Cortar-Extruir38 (cut, two sides)
    with BuildSketch(Plane(origin=(0, 0, 9.75), x_dir=(-1, 0, 0), z_dir=(0, 0, -1))) as cortar_extruir38_sk:
        Polygon((46.720301378, 20), (46.720301378, 30), (38.825, 30), (33.492952769, 43.760628779), (49.525340398, 48.951442806), (67.200390695, 42.512205152), (65.906601328, 20), (51.713995885, 13.864168239), align=None)
    extrude(amount=CORTAR_EXTRUIR38_DEPTH, mode=Mode.SUBTRACT)
    extrude(cortar_extruir38_sk.sketch, amount=-CORTAR_EXTRUIR38_DEPTH_BACK, mode=Mode.SUBTRACT)

    # Croquis43 → Saliente-Extruir11 (add)
    with BuildSketch(Plane.XZ.offset(-20)):
        Polygon((-19.993600539, -20), (-46.720301378, 7.75), (-43.839252857, 10.524807997), (-17.112552018, -17.225192003), align=None)
    extrude(amount=-SALIENTE_EXTRUIR11_DEPTH)

    # Croquis44 → Cortar-Extruir39 (cut, through all)
    with BuildSketch(Plane(origin=(0, 0, 9.75), x_dir=(-1, 0, 0), z_dir=(0, 0, -1))):
        Polygon((38.957161657, 27.75), (37.369448416, 25), (38.957161657, 22.25), (42.132588137, 22.25), (43.720301378, 25), (42.132588137, 27.75), align=None)
    extrude(amount=CORTAR_EXTRUIR39_DEPTH, mode=Mode.SUBTRACT)

    # Croquis45 → Saliente-Extruir12 (add)
    with BuildSketch(Plane.XY.offset(12.75)):
        with Locations((-30.985150689, 25)):
            Rectangle(CROQUIS45_W, CROQUIS45_H)
        with Locations((-40.544874897, 25)):
            Circle(CROQUIS45_R, mode=Mode.SUBTRACT)
        with Locations((-29, 25)):
            Circle(CROQUIS45_R, mode=Mode.SUBTRACT)
    extrude(amount=SALIENTE_EXTRUIR12_DEPTH)

    # Croquis46 → Saliente-Extruir13 (add)
    with BuildSketch(Plane.XZ.offset(-20)):
        with BuildLine():
            Line((15.25, 0), (20, 0))
            Line((20, 0), (20, 15.25))
            Line((20, 15.25), (7.549834435, 15.25))
            Line((7.549834435, 15.25), (7.549834435, 13.25))
            ThreePointArc((7.549834435, 13.25), (13.185171124, 7.662490615), (15.25, 0))
        make_face()
        with BuildLine():
            Line((-15.25, 0), (-15.25, 15.25))
            Line((-15.25, 15.25), (-7.549834435, 15.25))
            Line((-7.549834435, 15.25), (-7.549834435, 13.25))
            ThreePointArc((-7.549834435, 13.25), (-13.185171124, 7.662490615), (-15.25, 0))
        make_face()
    extrude(amount=-SALIENTE_EXTRUIR13_DEPTH)

    # Croquis47 → Cortar-Extruir40 (cut)
    with BuildSketch(Plane.XY.offset(15.25).offset(CORTAR_EXTRUIR40_START)):
        Polygon((15.41228676, 22.352505966), (17, 25.102505966), (15.41228676, 27.852505966), (12.236860279, 27.852505966), (10.649147039, 25.102505966), (12.236860279, 22.352505966), align=None)
        with Locations((13.824573519, 25.102505966)):
            Circle(CROQUIS47_R, mode=Mode.SUBTRACT)
        Polygon((-12.236860279, 22.352505966), (-15.41228676, 22.352505966), (-17, 25.102505966), (-15.41228676, 27.852505966), (-12.236860279, 27.852505966), (-10.649147039, 25.102505966), align=None)
        with Locations(Location((-13.824573519, 25.102505966, 0), (0, 0, 131.421584744))):
            Circle(CROQUIS47_R, mode=Mode.SUBTRACT)
    extrude(amount=-CORTAR_EXTRUIR40_DEPTH, mode=Mode.SUBTRACT)

    # Croquis48 → Cortar-Extruir41 (cut)
    with BuildSketch(Plane.XY.offset(15.25).offset(CORTAR_EXTRUIR41_START)):
        with Locations((13.824573519, 25.102505966)):
            Circle(CROQUIS48_R)
        with Locations((-13.824573519, 25.102505966)):
            Circle(CROQUIS48_R)
    extrude(amount=CORTAR_EXTRUIR41_DEPTH, mode=Mode.SUBTRACT)

    # Croquis49 → Cortar-Extruir42 (cut)
    with BuildSketch(Plane(origin=(0, 30, 0), x_dir=(1, 0, 0), z_dir=(0, 1, 0))):
        Polygon((-12.979274058, 11.5), (-10.958548116, 15), (-12.979274058, 18.5), (-17.020725942, 18.5), (-19.041451884, 15), (-17.020725942, 11.5), align=None)
        Polygon((17.020725942, 11.5), (19.041451884, 15), (17.020725942, 18.5), (12.979274058, 18.5), (10.958548116, 15), (12.979274058, 11.5), align=None)
    extrude(amount=-CORTAR_EXTRUIR42_DEPTH, mode=Mode.SUBTRACT)

    # Croquis50 → Cortar-Extruir43 (cut, two sides)
    with BuildSketch(Plane(origin=(0, 30, 0), x_dir=(1, 0, 0), z_dir=(0, 1, 0))) as cortar_extruir43_sk:
        with Locations(Location((-15, 15, 0), (0, 0, 270))):
            Circle(CROQUIS50_R)
        with Locations(Location((15, 15, 0), (0, 0, 270))):
            Circle(CROQUIS50_R)
    extrude(amount=CORTAR_EXTRUIR43_DEPTH, mode=Mode.SUBTRACT)
    extrude(cortar_extruir43_sk.sketch, amount=-CORTAR_EXTRUIR43_DEPTH_BACK, mode=Mode.SUBTRACT)

    # Croquis51 → Cortar-Extruir44 (cut, two sides)
    with BuildSketch(Plane(origin=(0, 30, 0), x_dir=(1, 0, 0), z_dir=(0, 1, 0))) as cortar_extruir44_sk:
        Polygon((-35.175426481, -15.25), (-35.175426481, -7.75), (-19.995154673, 14.232221634), (-19.993600539, 20), (-53.730413568, 5.241110817), (-52.418444784, -16.738442517), align=None)
    extrude(amount=CORTAR_EXTRUIR44_DEPTH, mode=Mode.SUBTRACT)
    extrude(cortar_extruir44_sk.sketch, amount=-CORTAR_EXTRUIR44_DEPTH_BACK, mode=Mode.SUBTRACT)

    # Croquis52 → Saliente-Extruir14 (add)
    with BuildSketch(Plane(origin=(0, 30, 0), x_dir=(1, 0, 0), z_dir=(0, 1, 0))):
        Polygon((-35.175426481, -7.75), (-19.993600539, 20), (-20, -3.75), (-24, -7.75), align=None)
    extrude(amount=-SALIENTE_EXTRUIR14_DEPTH)

    # Croquis54 → Cortar-Extruir45 (cut)
    with BuildSketch(Plane.XY.offset(15.25).offset(CORTAR_EXTRUIR45_START)):
        Polygon((-25.824573519, 25), (-27.41228676, 27.75), (-30.58771324, 27.75), (-32.175426481, 25), (-30.58771324, 22.25), (-27.41228676, 22.25), align=None)
    extrude(amount=CORTAR_EXTRUIR45_DEPTH, mode=Mode.SUBTRACT)

    # Croquis55 → Cortar-Extruir46 (cut, two sides)
    with BuildSketch(Plane(origin=(0, 30, 0), x_dir=(1, 0, 0), z_dir=(0, 1, 0))) as cortar_extruir46_sk:
        with Locations((-34.055798451, -1.866866075)):
            Rectangle(CROQUIS55_W, CROQUIS55_H)
    extrude(amount=CORTAR_EXTRUIR46_DEPTH, mode=Mode.SUBTRACT)
    extrude(cortar_extruir46_sk.sketch, amount=-CORTAR_EXTRUIR46_DEPTH_BACK, mode=Mode.SUBTRACT)


solid = body_2_2.part
